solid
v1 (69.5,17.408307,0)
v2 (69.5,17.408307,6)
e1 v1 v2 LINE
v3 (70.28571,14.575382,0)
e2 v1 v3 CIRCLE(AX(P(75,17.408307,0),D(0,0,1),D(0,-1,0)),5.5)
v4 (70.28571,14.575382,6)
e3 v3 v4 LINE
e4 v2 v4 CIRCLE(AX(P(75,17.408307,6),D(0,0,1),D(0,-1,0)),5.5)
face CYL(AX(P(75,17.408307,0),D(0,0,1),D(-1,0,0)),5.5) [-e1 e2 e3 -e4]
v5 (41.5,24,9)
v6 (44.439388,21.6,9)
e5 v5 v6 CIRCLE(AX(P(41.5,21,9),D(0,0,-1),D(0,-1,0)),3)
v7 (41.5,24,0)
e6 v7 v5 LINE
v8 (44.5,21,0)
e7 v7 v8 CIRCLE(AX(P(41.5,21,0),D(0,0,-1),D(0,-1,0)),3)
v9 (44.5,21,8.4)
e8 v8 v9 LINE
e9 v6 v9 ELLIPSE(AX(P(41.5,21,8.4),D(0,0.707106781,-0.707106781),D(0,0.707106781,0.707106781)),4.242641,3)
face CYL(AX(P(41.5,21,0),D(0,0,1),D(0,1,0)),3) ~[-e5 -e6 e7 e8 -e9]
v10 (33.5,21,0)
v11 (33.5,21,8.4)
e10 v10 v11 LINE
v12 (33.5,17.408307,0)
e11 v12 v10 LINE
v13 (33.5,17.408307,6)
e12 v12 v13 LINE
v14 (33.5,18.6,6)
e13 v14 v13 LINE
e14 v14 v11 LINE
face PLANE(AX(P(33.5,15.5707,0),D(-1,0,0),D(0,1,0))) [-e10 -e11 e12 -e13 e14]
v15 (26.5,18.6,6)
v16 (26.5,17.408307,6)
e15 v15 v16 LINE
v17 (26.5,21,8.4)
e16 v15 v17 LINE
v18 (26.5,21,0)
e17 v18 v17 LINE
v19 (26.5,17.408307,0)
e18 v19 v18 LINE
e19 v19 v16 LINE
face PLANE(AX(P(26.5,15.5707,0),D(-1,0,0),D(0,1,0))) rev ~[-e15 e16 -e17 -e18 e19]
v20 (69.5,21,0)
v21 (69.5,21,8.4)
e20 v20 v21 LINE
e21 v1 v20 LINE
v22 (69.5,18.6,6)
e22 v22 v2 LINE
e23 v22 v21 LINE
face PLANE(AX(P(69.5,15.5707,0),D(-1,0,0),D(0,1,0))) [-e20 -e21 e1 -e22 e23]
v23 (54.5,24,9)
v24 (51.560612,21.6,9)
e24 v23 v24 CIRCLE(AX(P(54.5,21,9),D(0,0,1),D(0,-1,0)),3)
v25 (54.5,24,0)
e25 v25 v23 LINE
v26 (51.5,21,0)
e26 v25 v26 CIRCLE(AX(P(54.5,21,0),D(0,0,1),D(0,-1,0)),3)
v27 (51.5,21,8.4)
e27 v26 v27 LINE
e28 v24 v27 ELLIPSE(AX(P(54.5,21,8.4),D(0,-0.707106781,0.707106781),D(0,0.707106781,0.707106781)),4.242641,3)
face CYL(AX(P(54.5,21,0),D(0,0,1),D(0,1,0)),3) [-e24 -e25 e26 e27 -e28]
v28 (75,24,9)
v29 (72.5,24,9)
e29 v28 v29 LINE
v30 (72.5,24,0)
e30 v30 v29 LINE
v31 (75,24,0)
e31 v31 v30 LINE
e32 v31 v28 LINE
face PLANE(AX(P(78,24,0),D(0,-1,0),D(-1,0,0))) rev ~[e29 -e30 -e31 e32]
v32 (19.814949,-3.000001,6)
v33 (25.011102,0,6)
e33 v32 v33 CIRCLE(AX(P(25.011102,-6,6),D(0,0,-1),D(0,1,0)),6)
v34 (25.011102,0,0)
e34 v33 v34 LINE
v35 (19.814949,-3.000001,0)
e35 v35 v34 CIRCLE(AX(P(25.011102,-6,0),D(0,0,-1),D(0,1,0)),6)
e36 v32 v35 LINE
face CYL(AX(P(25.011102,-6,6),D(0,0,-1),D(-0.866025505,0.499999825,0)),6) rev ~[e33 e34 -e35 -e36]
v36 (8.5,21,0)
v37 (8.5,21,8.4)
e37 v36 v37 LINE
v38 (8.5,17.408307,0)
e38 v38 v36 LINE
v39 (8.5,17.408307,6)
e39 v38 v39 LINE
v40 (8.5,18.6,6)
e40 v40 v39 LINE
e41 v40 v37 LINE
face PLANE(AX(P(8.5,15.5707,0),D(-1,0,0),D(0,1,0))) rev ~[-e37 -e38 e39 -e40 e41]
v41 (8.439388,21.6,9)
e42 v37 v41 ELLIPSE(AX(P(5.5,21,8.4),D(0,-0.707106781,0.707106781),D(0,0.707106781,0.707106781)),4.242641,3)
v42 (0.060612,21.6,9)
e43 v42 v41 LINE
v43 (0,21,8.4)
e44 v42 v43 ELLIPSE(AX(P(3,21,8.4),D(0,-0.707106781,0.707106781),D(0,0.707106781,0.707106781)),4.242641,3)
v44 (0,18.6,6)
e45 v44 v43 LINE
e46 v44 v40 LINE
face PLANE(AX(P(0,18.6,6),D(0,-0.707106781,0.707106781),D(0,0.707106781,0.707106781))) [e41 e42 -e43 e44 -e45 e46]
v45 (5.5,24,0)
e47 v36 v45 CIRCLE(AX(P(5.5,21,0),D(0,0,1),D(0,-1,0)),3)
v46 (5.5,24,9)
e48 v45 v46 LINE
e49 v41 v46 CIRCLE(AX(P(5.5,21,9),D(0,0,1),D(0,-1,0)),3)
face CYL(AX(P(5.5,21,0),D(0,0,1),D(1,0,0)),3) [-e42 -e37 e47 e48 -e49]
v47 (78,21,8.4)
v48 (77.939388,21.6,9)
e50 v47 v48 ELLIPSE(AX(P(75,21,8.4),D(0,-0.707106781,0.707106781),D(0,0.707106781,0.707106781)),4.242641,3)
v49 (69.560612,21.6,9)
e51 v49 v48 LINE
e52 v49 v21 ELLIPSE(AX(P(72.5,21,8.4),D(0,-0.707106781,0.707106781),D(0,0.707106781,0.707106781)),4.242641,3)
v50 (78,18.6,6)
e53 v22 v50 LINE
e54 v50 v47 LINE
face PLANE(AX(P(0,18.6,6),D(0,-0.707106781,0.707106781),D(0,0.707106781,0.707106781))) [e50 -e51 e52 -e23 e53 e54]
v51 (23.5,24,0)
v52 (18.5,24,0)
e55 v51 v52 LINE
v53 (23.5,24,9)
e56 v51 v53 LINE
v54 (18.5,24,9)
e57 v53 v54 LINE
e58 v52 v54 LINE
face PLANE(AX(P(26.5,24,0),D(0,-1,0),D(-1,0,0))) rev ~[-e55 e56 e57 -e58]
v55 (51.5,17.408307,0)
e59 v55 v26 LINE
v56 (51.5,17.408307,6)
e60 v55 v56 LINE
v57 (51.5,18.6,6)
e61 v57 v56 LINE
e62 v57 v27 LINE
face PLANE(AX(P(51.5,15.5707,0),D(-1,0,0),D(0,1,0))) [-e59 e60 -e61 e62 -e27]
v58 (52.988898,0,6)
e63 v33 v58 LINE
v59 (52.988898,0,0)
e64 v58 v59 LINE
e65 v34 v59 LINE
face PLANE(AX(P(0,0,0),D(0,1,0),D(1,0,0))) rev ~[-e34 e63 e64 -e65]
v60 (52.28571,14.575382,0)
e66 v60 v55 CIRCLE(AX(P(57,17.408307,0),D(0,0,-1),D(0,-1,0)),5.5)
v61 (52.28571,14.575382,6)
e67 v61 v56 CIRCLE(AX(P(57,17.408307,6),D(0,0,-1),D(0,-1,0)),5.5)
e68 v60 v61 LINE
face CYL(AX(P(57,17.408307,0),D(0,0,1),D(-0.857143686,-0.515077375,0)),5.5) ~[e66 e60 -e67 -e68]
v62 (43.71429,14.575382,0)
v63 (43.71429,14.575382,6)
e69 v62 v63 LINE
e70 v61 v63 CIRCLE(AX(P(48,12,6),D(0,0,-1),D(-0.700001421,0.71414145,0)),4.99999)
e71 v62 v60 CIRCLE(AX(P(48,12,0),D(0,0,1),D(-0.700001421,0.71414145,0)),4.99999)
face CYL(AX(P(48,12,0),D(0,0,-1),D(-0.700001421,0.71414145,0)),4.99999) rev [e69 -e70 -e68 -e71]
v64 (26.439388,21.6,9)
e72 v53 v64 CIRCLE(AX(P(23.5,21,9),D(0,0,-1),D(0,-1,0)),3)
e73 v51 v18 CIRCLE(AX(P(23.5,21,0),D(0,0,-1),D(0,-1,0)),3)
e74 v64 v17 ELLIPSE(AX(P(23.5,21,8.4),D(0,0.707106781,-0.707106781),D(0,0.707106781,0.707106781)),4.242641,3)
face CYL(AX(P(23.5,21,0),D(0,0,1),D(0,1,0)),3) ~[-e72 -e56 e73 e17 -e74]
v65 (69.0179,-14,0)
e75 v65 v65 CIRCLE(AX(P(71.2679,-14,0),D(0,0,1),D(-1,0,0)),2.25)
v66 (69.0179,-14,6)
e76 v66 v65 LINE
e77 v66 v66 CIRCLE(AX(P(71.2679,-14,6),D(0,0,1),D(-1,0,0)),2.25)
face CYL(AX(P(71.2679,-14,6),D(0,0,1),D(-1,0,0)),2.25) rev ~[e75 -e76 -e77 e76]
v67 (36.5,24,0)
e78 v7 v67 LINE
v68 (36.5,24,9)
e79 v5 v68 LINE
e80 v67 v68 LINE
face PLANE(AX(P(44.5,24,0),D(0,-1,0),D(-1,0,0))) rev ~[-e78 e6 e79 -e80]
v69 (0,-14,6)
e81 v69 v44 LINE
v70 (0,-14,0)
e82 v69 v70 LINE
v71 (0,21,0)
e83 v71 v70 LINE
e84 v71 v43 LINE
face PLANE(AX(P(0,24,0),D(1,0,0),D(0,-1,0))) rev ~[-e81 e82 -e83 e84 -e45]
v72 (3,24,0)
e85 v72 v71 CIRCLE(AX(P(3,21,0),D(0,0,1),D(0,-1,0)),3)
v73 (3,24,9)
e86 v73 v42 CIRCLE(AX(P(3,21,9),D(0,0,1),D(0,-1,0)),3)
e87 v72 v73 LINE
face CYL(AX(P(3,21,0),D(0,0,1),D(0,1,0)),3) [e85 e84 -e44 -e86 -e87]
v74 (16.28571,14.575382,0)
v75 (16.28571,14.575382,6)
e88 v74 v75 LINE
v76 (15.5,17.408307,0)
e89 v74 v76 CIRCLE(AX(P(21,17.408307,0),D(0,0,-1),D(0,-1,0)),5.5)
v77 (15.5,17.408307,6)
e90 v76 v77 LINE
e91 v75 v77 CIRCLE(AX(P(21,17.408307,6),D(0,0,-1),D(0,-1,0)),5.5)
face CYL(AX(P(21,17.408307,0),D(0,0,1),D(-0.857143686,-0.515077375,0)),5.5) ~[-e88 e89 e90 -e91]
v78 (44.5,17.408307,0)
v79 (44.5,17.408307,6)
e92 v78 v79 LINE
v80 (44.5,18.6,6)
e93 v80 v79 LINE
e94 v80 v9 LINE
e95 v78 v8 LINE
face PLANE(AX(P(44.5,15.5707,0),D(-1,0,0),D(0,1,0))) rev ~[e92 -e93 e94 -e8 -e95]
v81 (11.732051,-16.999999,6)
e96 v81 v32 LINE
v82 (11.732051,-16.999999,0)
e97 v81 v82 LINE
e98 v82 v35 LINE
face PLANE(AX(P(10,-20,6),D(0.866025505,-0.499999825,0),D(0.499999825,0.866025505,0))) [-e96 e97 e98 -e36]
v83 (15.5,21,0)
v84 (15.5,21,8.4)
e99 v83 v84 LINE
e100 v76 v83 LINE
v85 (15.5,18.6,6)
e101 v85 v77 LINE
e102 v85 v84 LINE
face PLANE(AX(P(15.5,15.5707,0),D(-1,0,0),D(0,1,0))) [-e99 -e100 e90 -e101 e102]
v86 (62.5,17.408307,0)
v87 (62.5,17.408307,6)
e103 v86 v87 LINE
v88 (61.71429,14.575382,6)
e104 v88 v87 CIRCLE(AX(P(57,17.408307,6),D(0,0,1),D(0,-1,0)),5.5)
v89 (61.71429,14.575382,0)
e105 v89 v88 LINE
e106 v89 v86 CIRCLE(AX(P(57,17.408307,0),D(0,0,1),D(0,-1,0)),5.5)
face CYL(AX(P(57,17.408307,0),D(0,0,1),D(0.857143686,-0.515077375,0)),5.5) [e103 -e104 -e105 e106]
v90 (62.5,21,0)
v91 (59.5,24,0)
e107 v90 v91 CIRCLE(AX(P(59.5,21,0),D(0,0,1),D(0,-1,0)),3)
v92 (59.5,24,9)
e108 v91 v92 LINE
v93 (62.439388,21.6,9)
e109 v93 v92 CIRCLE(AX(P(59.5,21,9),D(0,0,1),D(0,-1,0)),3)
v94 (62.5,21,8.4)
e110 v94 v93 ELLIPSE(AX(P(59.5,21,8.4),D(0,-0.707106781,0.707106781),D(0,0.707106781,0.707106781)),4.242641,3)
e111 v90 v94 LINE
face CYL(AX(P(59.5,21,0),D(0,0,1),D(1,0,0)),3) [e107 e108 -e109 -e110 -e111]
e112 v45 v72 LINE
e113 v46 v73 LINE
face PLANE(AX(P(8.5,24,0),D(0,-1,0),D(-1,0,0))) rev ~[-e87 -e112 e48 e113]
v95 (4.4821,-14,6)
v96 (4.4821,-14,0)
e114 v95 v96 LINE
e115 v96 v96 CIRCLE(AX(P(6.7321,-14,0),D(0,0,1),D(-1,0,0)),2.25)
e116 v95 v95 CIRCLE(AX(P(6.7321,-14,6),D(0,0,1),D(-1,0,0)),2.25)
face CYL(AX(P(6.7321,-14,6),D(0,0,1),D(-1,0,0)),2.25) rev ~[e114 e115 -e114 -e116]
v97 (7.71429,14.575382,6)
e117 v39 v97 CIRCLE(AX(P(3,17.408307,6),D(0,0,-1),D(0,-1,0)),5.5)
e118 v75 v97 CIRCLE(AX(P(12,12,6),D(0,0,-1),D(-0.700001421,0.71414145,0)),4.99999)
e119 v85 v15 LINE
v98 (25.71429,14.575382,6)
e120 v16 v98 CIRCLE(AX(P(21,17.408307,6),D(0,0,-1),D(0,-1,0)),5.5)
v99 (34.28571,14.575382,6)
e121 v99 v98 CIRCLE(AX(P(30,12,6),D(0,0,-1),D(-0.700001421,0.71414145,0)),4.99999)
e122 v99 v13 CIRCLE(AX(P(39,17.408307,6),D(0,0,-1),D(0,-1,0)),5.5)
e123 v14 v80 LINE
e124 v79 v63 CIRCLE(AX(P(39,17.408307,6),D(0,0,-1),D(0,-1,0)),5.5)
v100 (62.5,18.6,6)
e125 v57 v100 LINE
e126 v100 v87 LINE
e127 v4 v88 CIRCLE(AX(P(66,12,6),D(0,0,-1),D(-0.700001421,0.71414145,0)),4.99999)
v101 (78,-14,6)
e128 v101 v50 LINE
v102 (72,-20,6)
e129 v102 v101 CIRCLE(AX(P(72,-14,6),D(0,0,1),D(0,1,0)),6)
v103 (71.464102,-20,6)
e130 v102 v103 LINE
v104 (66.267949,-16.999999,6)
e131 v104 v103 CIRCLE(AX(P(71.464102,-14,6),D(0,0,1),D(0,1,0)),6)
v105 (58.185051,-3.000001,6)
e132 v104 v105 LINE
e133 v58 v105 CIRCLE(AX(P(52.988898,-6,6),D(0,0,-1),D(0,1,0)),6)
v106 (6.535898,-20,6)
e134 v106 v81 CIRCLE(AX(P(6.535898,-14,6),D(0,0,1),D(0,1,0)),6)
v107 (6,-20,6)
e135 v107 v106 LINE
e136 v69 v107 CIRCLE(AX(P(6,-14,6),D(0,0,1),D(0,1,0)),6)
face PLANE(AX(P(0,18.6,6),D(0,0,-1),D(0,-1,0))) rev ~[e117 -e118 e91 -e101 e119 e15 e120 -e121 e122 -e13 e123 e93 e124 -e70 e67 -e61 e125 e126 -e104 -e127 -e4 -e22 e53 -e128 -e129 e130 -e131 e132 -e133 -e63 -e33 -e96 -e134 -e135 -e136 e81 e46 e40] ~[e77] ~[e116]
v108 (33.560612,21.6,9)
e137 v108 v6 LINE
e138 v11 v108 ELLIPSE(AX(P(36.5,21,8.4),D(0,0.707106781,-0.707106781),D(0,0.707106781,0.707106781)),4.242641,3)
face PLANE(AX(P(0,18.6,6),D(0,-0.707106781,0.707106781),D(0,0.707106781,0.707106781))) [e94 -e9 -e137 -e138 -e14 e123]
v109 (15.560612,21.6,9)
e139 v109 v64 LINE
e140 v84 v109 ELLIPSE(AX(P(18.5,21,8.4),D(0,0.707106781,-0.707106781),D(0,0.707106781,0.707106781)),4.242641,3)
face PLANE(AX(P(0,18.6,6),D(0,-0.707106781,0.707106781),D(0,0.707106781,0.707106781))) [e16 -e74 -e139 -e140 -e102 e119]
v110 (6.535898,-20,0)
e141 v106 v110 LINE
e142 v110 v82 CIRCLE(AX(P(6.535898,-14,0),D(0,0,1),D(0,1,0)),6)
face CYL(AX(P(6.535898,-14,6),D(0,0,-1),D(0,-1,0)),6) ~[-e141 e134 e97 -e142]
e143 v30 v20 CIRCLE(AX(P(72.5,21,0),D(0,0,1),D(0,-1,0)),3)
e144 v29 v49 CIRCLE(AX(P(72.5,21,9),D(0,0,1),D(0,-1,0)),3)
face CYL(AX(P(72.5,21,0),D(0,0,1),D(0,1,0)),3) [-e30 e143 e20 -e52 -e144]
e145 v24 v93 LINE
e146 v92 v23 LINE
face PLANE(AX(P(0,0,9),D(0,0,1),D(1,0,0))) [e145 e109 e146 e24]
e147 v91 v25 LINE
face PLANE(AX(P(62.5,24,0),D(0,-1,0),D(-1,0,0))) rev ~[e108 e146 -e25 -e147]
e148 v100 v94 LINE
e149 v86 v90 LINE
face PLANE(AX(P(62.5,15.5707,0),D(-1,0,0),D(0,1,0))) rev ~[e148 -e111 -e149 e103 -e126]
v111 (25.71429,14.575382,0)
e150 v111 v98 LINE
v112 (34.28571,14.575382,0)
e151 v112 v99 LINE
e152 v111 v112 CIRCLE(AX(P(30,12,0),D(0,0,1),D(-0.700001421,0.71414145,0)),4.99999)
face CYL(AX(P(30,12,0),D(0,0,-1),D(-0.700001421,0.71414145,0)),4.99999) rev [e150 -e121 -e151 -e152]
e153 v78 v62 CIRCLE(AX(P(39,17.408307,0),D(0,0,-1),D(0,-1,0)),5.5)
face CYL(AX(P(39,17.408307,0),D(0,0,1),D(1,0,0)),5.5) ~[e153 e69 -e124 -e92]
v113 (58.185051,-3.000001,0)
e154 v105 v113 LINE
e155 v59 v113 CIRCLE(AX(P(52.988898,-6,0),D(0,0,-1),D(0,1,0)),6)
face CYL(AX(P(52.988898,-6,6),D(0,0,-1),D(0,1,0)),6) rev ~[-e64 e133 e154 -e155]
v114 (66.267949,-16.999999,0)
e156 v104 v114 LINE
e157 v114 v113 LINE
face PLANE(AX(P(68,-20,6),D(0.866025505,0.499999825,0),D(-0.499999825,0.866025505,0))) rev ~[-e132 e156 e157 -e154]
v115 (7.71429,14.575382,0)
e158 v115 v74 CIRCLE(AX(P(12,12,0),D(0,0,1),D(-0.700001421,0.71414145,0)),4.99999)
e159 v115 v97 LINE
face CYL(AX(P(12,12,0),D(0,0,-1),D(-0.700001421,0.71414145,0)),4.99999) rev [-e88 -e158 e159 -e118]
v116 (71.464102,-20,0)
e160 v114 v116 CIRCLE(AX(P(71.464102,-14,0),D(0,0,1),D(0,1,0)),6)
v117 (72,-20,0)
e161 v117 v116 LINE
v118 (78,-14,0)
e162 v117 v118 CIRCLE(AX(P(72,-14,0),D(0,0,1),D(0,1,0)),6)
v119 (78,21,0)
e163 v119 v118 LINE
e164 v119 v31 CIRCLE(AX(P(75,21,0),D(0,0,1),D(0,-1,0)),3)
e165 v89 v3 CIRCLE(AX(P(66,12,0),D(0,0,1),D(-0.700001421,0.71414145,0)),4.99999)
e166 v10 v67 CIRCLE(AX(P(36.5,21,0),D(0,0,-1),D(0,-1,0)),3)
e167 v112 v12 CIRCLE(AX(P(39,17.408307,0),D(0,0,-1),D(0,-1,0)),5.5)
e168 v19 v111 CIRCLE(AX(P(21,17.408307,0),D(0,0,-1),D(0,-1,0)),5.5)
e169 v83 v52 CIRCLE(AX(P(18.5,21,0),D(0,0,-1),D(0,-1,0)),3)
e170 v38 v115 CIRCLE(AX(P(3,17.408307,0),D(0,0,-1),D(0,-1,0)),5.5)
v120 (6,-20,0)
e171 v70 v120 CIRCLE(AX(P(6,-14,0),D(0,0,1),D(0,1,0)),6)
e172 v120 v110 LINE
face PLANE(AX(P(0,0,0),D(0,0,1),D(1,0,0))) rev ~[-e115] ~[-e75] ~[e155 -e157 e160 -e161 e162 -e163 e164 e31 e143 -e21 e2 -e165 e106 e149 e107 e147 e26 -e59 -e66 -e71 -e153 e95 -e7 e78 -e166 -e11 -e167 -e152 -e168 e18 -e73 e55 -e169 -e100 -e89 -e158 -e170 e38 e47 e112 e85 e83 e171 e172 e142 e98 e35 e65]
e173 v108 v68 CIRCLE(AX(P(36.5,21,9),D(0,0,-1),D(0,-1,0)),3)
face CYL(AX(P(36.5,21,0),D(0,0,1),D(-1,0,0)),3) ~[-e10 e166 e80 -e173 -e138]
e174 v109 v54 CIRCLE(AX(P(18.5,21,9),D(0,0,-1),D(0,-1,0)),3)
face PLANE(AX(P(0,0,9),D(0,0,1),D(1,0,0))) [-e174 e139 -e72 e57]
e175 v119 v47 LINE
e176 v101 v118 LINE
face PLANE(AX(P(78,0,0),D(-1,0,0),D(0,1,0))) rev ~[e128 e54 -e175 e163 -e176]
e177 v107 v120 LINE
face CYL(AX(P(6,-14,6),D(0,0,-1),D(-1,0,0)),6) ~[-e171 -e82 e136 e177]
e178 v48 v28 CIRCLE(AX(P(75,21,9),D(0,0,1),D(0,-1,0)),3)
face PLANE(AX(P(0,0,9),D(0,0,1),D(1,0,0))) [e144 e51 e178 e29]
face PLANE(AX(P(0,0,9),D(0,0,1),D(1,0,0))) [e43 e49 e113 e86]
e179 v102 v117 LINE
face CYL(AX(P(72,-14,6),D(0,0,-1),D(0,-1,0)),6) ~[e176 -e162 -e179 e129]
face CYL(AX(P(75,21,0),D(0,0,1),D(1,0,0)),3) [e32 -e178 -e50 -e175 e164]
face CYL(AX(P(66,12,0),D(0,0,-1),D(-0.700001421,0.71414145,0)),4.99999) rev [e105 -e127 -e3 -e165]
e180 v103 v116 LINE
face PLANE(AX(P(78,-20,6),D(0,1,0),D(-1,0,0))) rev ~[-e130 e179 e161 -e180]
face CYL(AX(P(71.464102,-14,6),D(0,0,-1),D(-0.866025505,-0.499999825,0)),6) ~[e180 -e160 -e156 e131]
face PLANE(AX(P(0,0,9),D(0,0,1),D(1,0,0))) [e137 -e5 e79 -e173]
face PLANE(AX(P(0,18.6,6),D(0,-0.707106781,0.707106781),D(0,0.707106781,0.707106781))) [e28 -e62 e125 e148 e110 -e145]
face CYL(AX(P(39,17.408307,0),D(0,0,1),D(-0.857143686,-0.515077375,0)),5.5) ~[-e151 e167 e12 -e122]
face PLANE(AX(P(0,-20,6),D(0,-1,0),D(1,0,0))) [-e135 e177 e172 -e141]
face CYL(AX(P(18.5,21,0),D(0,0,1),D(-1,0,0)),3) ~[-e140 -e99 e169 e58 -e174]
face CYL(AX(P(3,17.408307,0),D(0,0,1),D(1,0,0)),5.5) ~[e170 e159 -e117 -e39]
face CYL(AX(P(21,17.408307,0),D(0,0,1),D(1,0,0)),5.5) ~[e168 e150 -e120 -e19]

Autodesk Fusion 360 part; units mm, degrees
sketch "Sketch1" plane through (0, 0, 0) normal (0, 0, 1) x (1, 0, 0)
  line L0 (0, 0) -> (78, 0)
  line L1 (78, 0) -> (78, 24)
  line L2 (0, 24) -> (0, 0)
  line L3 (12, 12) -> (12, 24) construction
  line L4 (8.5, 15.5707) -> (15.5, 15.5707) construction
  line L5 (8.5, 15.5707) -> (8.5, 24)
  line L6 (15.5, 15.5707) -> (15.5, 24)
  arc A0 (8.5, 15.5707) -> (15.5, 15.5707) centre (12, 12) ccw
  line L7 (8.5, 24) -> (0, 24)
  line L8 (33.5, 15.5707) -> (33.5, 24)
  line L9 (26.5, 15.5707) -> (26.5, 24)
  arc A1 (26.5, 15.5707) -> (33.5, 15.5707) centre (30, 12) ccw
  line L10 (51.5, 15.5707) -> (51.5, 24)
  line L11 (44.5, 15.5707) -> (44.5, 24)
  arc A2 (44.5, 15.5707) -> (51.5, 15.5707) centre (48, 12) ccw
  line L12 (69.5, 15.5707) -> (69.5, 24)
  line L13 (62.5, 15.5707) -> (62.5, 24)
  arc A3 (62.5, 15.5707) -> (69.5, 15.5707) centre (66, 12) ccw
  line L14 (26.5, 24) -> (15.5, 24)
  line L15 (44.5, 24) -> (33.5, 24)
  line L16 (78, 24) -> (69.5, 24)
  line L17 (62.5, 24) -> (51.5, 24)
  dimension "d1" = 10
  dimension "d3" = 12
  dimension "d4" = 12
  dimension "d5" = 3.5
  dimension "d6" = 3.5
  dimension "d7" = 12
  dimension "d10" = 18
  dimension "d11" = 0
  dimension "d12" = 12
extrude "Extrude1" add sketch "Sketch1" along normal blind 9
sketch "Sketch2" plane through (0, 0, 0) normal (-1, 0, 0) x (0, -1, 0)
  line L0 (-24, 0) -> (0, 0)
  line L1 (0, 0) -> (0, 9)
  line L2 (0, 9) -> (-24, 9)
  line L3 (-24, 9) -> (-24, 0)
  line L4 (-24, 9) -> (-16.9844, 9) construction
  line L5 (-18.6, 6) -> (0, 6)
  line L6 (-24, 9) -> (0, 9)
  line L7 (0, 6) -> (0, 9)
  line L8 (-24, 9) -> (-21.6, 9)
  line L9 (-18.6, 6) -> (-21.6, 9)
  dimension "d17" = 3
  dimension "d34" = 45
  dimension "d35" = 2.4
extrude "Extrude2" cut sketch "Sketch2" against normal through all contours L1 L2 L5 L6 L7 L9
sketch "Sketch3" plane through (0, 0, 6) normal (0, 0, 1) x (-1, 0, 0)
  line L0 (-15.5, -18.6) -> (-15.5, -15.5707)
  arc A0 (-8.5, -15.5707) -> (-15.5, -15.5707) centre (-12, -12) ccw
  line L1 (-8.5, -15.5707) -> (-8.5, -18.6)
  line L2 (0, -18.6) -> (0, 0)
  line L3 (0, 0) -> (-78, 0)
  line L4 (-78, 0) -> (-78, -18.6)
  line L5 (-69.5, -18.6) -> (-69.5, -15.5707)
  arc A1 (-62.5, -15.5707) -> (-69.5, -15.5707) centre (-66, -12) ccw
  line L6 (-62.5, -15.5707) -> (-62.5, -18.6)
  line L7 (-51.5, -18.6) -> (-51.5, -15.5707)
  arc A2 (-44.5, -15.5707) -> (-51.5, -15.5707) centre (-48, -12) ccw
  line L8 (-44.5, -15.5707) -> (-44.5, -18.6)
  line L9 (-33.5, -18.6) -> (-33.5, -15.5707)
  arc A3 (-26.5, -15.5707) -> (-33.5, -15.5707) centre (-30, -12) ccw
  line L10 (-26.5, -15.5707) -> (-26.5, -18.6)
  line L11 (0, 0) -> (0, 20)
  line L12 (0, 20) -> (-10, 20)
  line L13 (-10, 20) -> (-21.547, 0)
  line L14 (-78, 0) -> (-78, 20)
  line L15 (-78, 20) -> (-68, 20)
  line L16 (-68, 20) -> (-56.453, 0)
  line L17 (0, 0) -> (-21.547, 0)
  line L18 (-56.453, 0) -> (-78, 0)
  line L19 (-8.5, -18.6) -> (0, -18.6)
  line L20 (-78, -18.6) -> (-69.5, -18.6)
  line L21 (-62.5, -18.6) -> (-51.5, -18.6)
  line L22 (-44.5, -18.6) -> (-33.5, -18.6)
  line L23 (-26.5, -18.6) -> (-15.5, -18.6)
  dimension "d25" = 20
  dimension "d26" = 10
  dimension "d27" = 10
  dimension "d28" = 60
  dimension "d29" = 60
extrude "Extrude3" add sketch "Sketch3" against normal up to surface (6 mm away) contours L3 L11 L12 L13 L17 | L3 L14 L15 L16 L18
sketch "Sketch4" plane through (0, 0, 6) normal (0, 0, 1) x (-1, 0, 0)
  line L0 (-15.5, -18.6) -> (-15.5, -15.5707)
  arc A0 (-8.5, -15.5707) -> (-15.5, -15.5707) centre (-12, -12) ccw
  line L1 (-8.5, -15.5707) -> (-8.5, -18.6)
  line L2 (-8.5, -18.6) -> (0, -18.6)
  line L3 (0, -18.6) -> (0, 20)
  line L4 (0, 20) -> (-10, 20)
  line L5 (-10, 20) -> (-21.547, 0)
  line L6 (-21.547, 0) -> (-56.453, 0)
  line L7 (-56.453, 0) -> (-68, 20)
  line L8 (-68, 20) -> (-78, 20)
  line L9 (-78, 20) -> (-78, -18.6)
  line L10 (-78, -18.6) -> (-69.5, -18.6)
  line L11 (-69.5, -18.6) -> (-69.5, -15.5707)
  arc A1 (-62.5, -15.5707) -> (-69.5, -15.5707) centre (-66, -12) ccw
  line L12 (-62.5, -15.5707) -> (-62.5, -18.6)
  line L13 (-62.5, -18.6) -> (-51.5, -18.6)
  line L14 (-51.5, -18.6) -> (-51.5, -15.5707)
  arc A2 (-44.5, -15.5707) -> (-51.5, -15.5707) centre (-48, -12) ccw
  line L15 (-44.5, -15.5707) -> (-44.5, -18.6)
  line L16 (-44.5, -18.6) -> (-33.5, -18.6)
  line L17 (-33.5, -18.6) -> (-33.5, -15.5707)
  arc A3 (-26.5, -15.5707) -> (-33.5, -15.5707) centre (-30, -12) ccw
  line L18 (-26.5, -15.5707) -> (-26.5, -18.6)
  line L19 (-26.5, -18.6) -> (-15.5, -18.6)
  circle A4 centre (-6.7321, 14) radius 2.25
  line L20 (0, 14) -> (-13.4641, 14) construction
  line L21 (-64.5359, 14) -> (-78, 14) construction
  circle A5 centre (-71.2679, 14) radius 2.25
  dimension "d36" = 4.5
  dimension "d37" = 6
  dimension "d38" = 4.5
extrude "Extrude5" cut sketch "Sketch4" against normal through all contours A4 | A5
fillet "Fillet1" radius 5.5 8 edges at (8.5, 15.5707, 3) (15.5, 15.5707, 3) (26.5, 15.5707, 3) (33.5, 15.5707, 3) (44.5, 15.5707, 3) (51.5, 15.5707, 3) (69.5, 15.5707, 3) (62.5, 15.5707, 3)
fillet "Fillet2" radius 3 10 edges at (69.5, 24, 4.5) (78, 24, 4.5) (62.5, 24, 4.5) (51.5, 24, 4.5) (44.5, 24, 4.5) (33.5, 24, 4.5) (26.5, 24, 4.5) (15.5, 24, 4.5) (8.5, 24, 4.5) (0, 24, 4.5)
fillet "Fillet3" radius 6 6 edges at (0, -20, 3) (10, -20, 3) (21.547, 0, 3) (56.453, 0, 3) (68, -20, 3) (78, -20, 3)
sketch "Sketch5" plane through (0, 0, 6) normal (0, 0, 1) x (-1, 0, 0)
  circle A0 centre (-6.7321, 14) radius 2.25
  circle A1 centre (-71.2679, 14) radius 2.25
  arc A2 (-72, 20) -> (-78, 14) centre (-72, 14) ccw
  line L0 (-78, 14) -> (-78, -18.6)
  line L1 (-78, -18.6) -> (-69.5, -18.6)
  line L2 (-69.5, -18.6) -> (-69.5, -17.4083)
  arc A3 (-69.5, -17.4083) -> (-70.2857, -14.5754) centre (-75, -17.4083) ccw
  arc A4 (-61.7143, -14.5754) -> (-70.2857, -14.5754) centre (-66, -12) ccw
  arc A5 (-61.7143, -14.5754) -> (-62.5, -17.4083) centre (-57, -17.4083) ccw
  line L3 (-62.5, -17.4083) -> (-62.5, -18.6)
  line L4 (-62.5, -18.6) -> (-51.5, -18.6)
  line L5 (-51.5, -18.6) -> (-51.5, -17.4083)
  arc A6 (-51.5, -17.4083) -> (-52.2857, -14.5754) centre (-57, -17.4083) ccw
  arc A7 (-43.7143, -14.5754) -> (-52.2857, -14.5754) centre (-48, -12) ccw
  arc A8 (-43.7143, -14.5754) -> (-44.5, -17.4083) centre (-39, -17.4083) ccw
  line L6 (-44.5, -17.4083) -> (-44.5, -18.6)
  line L7 (-44.5, -18.6) -> (-33.5, -18.6)
  line L8 (-33.5, -18.6) -> (-33.5, -17.4083)
  arc A9 (-33.5, -17.4083) -> (-34.2857, -14.5754) centre (-39, -17.4083) ccw
  arc A10 (-25.7143, -14.5754) -> (-34.2857, -14.5754) centre (-30, -12) ccw
  arc A11 (-25.7143, -14.5754) -> (-26.5, -17.4083) centre (-21, -17.4083) ccw
  line L9 (-26.5, -17.4083) -> (-26.5, -18.6)
  line L10 (-26.5, -18.6) -> (-15.5, -18.6)
  line L11 (-15.5, -18.6) -> (-15.5, -17.4083)
  arc A12 (-15.5, -17.4083) -> (-16.2857, -14.5754) centre (-21, -17.4083) ccw
  arc A13 (-7.7143, -14.5754) -> (-16.2857, -14.5754) centre (-12, -12) ccw
  arc A14 (-7.7143, -14.5754) -> (-8.5, -17.4083) centre (-3, -17.4083) ccw
  line L12 (-8.5, -17.4083) -> (-8.5, -18.6)
  line L13 (-8.5, -18.6) -> (0, -18.6)
  line L14 (0, -18.6) -> (0, 14)
  arc A15 (0, 14) -> (-6, 20) centre (-6, 14) ccw
  line L15 (-6, 20) -> (-6.5359, 20)
  arc A16 (-6.5359, 20) -> (-11.7321, 17) centre (-6.5359, 14) ccw
  line L16 (-11.7321, 17) -> (-19.815, 3)
  arc A17 (-25.0111, 0) -> (-19.815, 3) centre (-25.0111, 6) ccw
  line L17 (-25.0111, 0) -> (-52.9889, 0)
  arc A18 (-58.185, 3) -> (-52.9889, 0) centre (-52.9889, 6) ccw
  line L18 (-58.185, 3) -> (-66.2679, 17)
  arc A19 (-66.2679, 17) -> (-71.4641, 20) centre (-71.4641, 14) ccw
  line L19 (-71.4641, 20) -> (-72, 20)
  line L20 (109.7465, 0) -> (-156.5967, 0)
  line L21 (-156.5967, 0) -> (-156.5967, 57.2242)
  line L22 (-156.5967, 57.2242) -> (109.7465, 57.2242)
  line L23 (109.7465, 57.2242) -> (109.7465, 0)
equation "d6 = d5"
equation "d27 = d26"
equation "d28 = 60 °"
equation "d29 = d28"
equation "d34 = 45 °"
